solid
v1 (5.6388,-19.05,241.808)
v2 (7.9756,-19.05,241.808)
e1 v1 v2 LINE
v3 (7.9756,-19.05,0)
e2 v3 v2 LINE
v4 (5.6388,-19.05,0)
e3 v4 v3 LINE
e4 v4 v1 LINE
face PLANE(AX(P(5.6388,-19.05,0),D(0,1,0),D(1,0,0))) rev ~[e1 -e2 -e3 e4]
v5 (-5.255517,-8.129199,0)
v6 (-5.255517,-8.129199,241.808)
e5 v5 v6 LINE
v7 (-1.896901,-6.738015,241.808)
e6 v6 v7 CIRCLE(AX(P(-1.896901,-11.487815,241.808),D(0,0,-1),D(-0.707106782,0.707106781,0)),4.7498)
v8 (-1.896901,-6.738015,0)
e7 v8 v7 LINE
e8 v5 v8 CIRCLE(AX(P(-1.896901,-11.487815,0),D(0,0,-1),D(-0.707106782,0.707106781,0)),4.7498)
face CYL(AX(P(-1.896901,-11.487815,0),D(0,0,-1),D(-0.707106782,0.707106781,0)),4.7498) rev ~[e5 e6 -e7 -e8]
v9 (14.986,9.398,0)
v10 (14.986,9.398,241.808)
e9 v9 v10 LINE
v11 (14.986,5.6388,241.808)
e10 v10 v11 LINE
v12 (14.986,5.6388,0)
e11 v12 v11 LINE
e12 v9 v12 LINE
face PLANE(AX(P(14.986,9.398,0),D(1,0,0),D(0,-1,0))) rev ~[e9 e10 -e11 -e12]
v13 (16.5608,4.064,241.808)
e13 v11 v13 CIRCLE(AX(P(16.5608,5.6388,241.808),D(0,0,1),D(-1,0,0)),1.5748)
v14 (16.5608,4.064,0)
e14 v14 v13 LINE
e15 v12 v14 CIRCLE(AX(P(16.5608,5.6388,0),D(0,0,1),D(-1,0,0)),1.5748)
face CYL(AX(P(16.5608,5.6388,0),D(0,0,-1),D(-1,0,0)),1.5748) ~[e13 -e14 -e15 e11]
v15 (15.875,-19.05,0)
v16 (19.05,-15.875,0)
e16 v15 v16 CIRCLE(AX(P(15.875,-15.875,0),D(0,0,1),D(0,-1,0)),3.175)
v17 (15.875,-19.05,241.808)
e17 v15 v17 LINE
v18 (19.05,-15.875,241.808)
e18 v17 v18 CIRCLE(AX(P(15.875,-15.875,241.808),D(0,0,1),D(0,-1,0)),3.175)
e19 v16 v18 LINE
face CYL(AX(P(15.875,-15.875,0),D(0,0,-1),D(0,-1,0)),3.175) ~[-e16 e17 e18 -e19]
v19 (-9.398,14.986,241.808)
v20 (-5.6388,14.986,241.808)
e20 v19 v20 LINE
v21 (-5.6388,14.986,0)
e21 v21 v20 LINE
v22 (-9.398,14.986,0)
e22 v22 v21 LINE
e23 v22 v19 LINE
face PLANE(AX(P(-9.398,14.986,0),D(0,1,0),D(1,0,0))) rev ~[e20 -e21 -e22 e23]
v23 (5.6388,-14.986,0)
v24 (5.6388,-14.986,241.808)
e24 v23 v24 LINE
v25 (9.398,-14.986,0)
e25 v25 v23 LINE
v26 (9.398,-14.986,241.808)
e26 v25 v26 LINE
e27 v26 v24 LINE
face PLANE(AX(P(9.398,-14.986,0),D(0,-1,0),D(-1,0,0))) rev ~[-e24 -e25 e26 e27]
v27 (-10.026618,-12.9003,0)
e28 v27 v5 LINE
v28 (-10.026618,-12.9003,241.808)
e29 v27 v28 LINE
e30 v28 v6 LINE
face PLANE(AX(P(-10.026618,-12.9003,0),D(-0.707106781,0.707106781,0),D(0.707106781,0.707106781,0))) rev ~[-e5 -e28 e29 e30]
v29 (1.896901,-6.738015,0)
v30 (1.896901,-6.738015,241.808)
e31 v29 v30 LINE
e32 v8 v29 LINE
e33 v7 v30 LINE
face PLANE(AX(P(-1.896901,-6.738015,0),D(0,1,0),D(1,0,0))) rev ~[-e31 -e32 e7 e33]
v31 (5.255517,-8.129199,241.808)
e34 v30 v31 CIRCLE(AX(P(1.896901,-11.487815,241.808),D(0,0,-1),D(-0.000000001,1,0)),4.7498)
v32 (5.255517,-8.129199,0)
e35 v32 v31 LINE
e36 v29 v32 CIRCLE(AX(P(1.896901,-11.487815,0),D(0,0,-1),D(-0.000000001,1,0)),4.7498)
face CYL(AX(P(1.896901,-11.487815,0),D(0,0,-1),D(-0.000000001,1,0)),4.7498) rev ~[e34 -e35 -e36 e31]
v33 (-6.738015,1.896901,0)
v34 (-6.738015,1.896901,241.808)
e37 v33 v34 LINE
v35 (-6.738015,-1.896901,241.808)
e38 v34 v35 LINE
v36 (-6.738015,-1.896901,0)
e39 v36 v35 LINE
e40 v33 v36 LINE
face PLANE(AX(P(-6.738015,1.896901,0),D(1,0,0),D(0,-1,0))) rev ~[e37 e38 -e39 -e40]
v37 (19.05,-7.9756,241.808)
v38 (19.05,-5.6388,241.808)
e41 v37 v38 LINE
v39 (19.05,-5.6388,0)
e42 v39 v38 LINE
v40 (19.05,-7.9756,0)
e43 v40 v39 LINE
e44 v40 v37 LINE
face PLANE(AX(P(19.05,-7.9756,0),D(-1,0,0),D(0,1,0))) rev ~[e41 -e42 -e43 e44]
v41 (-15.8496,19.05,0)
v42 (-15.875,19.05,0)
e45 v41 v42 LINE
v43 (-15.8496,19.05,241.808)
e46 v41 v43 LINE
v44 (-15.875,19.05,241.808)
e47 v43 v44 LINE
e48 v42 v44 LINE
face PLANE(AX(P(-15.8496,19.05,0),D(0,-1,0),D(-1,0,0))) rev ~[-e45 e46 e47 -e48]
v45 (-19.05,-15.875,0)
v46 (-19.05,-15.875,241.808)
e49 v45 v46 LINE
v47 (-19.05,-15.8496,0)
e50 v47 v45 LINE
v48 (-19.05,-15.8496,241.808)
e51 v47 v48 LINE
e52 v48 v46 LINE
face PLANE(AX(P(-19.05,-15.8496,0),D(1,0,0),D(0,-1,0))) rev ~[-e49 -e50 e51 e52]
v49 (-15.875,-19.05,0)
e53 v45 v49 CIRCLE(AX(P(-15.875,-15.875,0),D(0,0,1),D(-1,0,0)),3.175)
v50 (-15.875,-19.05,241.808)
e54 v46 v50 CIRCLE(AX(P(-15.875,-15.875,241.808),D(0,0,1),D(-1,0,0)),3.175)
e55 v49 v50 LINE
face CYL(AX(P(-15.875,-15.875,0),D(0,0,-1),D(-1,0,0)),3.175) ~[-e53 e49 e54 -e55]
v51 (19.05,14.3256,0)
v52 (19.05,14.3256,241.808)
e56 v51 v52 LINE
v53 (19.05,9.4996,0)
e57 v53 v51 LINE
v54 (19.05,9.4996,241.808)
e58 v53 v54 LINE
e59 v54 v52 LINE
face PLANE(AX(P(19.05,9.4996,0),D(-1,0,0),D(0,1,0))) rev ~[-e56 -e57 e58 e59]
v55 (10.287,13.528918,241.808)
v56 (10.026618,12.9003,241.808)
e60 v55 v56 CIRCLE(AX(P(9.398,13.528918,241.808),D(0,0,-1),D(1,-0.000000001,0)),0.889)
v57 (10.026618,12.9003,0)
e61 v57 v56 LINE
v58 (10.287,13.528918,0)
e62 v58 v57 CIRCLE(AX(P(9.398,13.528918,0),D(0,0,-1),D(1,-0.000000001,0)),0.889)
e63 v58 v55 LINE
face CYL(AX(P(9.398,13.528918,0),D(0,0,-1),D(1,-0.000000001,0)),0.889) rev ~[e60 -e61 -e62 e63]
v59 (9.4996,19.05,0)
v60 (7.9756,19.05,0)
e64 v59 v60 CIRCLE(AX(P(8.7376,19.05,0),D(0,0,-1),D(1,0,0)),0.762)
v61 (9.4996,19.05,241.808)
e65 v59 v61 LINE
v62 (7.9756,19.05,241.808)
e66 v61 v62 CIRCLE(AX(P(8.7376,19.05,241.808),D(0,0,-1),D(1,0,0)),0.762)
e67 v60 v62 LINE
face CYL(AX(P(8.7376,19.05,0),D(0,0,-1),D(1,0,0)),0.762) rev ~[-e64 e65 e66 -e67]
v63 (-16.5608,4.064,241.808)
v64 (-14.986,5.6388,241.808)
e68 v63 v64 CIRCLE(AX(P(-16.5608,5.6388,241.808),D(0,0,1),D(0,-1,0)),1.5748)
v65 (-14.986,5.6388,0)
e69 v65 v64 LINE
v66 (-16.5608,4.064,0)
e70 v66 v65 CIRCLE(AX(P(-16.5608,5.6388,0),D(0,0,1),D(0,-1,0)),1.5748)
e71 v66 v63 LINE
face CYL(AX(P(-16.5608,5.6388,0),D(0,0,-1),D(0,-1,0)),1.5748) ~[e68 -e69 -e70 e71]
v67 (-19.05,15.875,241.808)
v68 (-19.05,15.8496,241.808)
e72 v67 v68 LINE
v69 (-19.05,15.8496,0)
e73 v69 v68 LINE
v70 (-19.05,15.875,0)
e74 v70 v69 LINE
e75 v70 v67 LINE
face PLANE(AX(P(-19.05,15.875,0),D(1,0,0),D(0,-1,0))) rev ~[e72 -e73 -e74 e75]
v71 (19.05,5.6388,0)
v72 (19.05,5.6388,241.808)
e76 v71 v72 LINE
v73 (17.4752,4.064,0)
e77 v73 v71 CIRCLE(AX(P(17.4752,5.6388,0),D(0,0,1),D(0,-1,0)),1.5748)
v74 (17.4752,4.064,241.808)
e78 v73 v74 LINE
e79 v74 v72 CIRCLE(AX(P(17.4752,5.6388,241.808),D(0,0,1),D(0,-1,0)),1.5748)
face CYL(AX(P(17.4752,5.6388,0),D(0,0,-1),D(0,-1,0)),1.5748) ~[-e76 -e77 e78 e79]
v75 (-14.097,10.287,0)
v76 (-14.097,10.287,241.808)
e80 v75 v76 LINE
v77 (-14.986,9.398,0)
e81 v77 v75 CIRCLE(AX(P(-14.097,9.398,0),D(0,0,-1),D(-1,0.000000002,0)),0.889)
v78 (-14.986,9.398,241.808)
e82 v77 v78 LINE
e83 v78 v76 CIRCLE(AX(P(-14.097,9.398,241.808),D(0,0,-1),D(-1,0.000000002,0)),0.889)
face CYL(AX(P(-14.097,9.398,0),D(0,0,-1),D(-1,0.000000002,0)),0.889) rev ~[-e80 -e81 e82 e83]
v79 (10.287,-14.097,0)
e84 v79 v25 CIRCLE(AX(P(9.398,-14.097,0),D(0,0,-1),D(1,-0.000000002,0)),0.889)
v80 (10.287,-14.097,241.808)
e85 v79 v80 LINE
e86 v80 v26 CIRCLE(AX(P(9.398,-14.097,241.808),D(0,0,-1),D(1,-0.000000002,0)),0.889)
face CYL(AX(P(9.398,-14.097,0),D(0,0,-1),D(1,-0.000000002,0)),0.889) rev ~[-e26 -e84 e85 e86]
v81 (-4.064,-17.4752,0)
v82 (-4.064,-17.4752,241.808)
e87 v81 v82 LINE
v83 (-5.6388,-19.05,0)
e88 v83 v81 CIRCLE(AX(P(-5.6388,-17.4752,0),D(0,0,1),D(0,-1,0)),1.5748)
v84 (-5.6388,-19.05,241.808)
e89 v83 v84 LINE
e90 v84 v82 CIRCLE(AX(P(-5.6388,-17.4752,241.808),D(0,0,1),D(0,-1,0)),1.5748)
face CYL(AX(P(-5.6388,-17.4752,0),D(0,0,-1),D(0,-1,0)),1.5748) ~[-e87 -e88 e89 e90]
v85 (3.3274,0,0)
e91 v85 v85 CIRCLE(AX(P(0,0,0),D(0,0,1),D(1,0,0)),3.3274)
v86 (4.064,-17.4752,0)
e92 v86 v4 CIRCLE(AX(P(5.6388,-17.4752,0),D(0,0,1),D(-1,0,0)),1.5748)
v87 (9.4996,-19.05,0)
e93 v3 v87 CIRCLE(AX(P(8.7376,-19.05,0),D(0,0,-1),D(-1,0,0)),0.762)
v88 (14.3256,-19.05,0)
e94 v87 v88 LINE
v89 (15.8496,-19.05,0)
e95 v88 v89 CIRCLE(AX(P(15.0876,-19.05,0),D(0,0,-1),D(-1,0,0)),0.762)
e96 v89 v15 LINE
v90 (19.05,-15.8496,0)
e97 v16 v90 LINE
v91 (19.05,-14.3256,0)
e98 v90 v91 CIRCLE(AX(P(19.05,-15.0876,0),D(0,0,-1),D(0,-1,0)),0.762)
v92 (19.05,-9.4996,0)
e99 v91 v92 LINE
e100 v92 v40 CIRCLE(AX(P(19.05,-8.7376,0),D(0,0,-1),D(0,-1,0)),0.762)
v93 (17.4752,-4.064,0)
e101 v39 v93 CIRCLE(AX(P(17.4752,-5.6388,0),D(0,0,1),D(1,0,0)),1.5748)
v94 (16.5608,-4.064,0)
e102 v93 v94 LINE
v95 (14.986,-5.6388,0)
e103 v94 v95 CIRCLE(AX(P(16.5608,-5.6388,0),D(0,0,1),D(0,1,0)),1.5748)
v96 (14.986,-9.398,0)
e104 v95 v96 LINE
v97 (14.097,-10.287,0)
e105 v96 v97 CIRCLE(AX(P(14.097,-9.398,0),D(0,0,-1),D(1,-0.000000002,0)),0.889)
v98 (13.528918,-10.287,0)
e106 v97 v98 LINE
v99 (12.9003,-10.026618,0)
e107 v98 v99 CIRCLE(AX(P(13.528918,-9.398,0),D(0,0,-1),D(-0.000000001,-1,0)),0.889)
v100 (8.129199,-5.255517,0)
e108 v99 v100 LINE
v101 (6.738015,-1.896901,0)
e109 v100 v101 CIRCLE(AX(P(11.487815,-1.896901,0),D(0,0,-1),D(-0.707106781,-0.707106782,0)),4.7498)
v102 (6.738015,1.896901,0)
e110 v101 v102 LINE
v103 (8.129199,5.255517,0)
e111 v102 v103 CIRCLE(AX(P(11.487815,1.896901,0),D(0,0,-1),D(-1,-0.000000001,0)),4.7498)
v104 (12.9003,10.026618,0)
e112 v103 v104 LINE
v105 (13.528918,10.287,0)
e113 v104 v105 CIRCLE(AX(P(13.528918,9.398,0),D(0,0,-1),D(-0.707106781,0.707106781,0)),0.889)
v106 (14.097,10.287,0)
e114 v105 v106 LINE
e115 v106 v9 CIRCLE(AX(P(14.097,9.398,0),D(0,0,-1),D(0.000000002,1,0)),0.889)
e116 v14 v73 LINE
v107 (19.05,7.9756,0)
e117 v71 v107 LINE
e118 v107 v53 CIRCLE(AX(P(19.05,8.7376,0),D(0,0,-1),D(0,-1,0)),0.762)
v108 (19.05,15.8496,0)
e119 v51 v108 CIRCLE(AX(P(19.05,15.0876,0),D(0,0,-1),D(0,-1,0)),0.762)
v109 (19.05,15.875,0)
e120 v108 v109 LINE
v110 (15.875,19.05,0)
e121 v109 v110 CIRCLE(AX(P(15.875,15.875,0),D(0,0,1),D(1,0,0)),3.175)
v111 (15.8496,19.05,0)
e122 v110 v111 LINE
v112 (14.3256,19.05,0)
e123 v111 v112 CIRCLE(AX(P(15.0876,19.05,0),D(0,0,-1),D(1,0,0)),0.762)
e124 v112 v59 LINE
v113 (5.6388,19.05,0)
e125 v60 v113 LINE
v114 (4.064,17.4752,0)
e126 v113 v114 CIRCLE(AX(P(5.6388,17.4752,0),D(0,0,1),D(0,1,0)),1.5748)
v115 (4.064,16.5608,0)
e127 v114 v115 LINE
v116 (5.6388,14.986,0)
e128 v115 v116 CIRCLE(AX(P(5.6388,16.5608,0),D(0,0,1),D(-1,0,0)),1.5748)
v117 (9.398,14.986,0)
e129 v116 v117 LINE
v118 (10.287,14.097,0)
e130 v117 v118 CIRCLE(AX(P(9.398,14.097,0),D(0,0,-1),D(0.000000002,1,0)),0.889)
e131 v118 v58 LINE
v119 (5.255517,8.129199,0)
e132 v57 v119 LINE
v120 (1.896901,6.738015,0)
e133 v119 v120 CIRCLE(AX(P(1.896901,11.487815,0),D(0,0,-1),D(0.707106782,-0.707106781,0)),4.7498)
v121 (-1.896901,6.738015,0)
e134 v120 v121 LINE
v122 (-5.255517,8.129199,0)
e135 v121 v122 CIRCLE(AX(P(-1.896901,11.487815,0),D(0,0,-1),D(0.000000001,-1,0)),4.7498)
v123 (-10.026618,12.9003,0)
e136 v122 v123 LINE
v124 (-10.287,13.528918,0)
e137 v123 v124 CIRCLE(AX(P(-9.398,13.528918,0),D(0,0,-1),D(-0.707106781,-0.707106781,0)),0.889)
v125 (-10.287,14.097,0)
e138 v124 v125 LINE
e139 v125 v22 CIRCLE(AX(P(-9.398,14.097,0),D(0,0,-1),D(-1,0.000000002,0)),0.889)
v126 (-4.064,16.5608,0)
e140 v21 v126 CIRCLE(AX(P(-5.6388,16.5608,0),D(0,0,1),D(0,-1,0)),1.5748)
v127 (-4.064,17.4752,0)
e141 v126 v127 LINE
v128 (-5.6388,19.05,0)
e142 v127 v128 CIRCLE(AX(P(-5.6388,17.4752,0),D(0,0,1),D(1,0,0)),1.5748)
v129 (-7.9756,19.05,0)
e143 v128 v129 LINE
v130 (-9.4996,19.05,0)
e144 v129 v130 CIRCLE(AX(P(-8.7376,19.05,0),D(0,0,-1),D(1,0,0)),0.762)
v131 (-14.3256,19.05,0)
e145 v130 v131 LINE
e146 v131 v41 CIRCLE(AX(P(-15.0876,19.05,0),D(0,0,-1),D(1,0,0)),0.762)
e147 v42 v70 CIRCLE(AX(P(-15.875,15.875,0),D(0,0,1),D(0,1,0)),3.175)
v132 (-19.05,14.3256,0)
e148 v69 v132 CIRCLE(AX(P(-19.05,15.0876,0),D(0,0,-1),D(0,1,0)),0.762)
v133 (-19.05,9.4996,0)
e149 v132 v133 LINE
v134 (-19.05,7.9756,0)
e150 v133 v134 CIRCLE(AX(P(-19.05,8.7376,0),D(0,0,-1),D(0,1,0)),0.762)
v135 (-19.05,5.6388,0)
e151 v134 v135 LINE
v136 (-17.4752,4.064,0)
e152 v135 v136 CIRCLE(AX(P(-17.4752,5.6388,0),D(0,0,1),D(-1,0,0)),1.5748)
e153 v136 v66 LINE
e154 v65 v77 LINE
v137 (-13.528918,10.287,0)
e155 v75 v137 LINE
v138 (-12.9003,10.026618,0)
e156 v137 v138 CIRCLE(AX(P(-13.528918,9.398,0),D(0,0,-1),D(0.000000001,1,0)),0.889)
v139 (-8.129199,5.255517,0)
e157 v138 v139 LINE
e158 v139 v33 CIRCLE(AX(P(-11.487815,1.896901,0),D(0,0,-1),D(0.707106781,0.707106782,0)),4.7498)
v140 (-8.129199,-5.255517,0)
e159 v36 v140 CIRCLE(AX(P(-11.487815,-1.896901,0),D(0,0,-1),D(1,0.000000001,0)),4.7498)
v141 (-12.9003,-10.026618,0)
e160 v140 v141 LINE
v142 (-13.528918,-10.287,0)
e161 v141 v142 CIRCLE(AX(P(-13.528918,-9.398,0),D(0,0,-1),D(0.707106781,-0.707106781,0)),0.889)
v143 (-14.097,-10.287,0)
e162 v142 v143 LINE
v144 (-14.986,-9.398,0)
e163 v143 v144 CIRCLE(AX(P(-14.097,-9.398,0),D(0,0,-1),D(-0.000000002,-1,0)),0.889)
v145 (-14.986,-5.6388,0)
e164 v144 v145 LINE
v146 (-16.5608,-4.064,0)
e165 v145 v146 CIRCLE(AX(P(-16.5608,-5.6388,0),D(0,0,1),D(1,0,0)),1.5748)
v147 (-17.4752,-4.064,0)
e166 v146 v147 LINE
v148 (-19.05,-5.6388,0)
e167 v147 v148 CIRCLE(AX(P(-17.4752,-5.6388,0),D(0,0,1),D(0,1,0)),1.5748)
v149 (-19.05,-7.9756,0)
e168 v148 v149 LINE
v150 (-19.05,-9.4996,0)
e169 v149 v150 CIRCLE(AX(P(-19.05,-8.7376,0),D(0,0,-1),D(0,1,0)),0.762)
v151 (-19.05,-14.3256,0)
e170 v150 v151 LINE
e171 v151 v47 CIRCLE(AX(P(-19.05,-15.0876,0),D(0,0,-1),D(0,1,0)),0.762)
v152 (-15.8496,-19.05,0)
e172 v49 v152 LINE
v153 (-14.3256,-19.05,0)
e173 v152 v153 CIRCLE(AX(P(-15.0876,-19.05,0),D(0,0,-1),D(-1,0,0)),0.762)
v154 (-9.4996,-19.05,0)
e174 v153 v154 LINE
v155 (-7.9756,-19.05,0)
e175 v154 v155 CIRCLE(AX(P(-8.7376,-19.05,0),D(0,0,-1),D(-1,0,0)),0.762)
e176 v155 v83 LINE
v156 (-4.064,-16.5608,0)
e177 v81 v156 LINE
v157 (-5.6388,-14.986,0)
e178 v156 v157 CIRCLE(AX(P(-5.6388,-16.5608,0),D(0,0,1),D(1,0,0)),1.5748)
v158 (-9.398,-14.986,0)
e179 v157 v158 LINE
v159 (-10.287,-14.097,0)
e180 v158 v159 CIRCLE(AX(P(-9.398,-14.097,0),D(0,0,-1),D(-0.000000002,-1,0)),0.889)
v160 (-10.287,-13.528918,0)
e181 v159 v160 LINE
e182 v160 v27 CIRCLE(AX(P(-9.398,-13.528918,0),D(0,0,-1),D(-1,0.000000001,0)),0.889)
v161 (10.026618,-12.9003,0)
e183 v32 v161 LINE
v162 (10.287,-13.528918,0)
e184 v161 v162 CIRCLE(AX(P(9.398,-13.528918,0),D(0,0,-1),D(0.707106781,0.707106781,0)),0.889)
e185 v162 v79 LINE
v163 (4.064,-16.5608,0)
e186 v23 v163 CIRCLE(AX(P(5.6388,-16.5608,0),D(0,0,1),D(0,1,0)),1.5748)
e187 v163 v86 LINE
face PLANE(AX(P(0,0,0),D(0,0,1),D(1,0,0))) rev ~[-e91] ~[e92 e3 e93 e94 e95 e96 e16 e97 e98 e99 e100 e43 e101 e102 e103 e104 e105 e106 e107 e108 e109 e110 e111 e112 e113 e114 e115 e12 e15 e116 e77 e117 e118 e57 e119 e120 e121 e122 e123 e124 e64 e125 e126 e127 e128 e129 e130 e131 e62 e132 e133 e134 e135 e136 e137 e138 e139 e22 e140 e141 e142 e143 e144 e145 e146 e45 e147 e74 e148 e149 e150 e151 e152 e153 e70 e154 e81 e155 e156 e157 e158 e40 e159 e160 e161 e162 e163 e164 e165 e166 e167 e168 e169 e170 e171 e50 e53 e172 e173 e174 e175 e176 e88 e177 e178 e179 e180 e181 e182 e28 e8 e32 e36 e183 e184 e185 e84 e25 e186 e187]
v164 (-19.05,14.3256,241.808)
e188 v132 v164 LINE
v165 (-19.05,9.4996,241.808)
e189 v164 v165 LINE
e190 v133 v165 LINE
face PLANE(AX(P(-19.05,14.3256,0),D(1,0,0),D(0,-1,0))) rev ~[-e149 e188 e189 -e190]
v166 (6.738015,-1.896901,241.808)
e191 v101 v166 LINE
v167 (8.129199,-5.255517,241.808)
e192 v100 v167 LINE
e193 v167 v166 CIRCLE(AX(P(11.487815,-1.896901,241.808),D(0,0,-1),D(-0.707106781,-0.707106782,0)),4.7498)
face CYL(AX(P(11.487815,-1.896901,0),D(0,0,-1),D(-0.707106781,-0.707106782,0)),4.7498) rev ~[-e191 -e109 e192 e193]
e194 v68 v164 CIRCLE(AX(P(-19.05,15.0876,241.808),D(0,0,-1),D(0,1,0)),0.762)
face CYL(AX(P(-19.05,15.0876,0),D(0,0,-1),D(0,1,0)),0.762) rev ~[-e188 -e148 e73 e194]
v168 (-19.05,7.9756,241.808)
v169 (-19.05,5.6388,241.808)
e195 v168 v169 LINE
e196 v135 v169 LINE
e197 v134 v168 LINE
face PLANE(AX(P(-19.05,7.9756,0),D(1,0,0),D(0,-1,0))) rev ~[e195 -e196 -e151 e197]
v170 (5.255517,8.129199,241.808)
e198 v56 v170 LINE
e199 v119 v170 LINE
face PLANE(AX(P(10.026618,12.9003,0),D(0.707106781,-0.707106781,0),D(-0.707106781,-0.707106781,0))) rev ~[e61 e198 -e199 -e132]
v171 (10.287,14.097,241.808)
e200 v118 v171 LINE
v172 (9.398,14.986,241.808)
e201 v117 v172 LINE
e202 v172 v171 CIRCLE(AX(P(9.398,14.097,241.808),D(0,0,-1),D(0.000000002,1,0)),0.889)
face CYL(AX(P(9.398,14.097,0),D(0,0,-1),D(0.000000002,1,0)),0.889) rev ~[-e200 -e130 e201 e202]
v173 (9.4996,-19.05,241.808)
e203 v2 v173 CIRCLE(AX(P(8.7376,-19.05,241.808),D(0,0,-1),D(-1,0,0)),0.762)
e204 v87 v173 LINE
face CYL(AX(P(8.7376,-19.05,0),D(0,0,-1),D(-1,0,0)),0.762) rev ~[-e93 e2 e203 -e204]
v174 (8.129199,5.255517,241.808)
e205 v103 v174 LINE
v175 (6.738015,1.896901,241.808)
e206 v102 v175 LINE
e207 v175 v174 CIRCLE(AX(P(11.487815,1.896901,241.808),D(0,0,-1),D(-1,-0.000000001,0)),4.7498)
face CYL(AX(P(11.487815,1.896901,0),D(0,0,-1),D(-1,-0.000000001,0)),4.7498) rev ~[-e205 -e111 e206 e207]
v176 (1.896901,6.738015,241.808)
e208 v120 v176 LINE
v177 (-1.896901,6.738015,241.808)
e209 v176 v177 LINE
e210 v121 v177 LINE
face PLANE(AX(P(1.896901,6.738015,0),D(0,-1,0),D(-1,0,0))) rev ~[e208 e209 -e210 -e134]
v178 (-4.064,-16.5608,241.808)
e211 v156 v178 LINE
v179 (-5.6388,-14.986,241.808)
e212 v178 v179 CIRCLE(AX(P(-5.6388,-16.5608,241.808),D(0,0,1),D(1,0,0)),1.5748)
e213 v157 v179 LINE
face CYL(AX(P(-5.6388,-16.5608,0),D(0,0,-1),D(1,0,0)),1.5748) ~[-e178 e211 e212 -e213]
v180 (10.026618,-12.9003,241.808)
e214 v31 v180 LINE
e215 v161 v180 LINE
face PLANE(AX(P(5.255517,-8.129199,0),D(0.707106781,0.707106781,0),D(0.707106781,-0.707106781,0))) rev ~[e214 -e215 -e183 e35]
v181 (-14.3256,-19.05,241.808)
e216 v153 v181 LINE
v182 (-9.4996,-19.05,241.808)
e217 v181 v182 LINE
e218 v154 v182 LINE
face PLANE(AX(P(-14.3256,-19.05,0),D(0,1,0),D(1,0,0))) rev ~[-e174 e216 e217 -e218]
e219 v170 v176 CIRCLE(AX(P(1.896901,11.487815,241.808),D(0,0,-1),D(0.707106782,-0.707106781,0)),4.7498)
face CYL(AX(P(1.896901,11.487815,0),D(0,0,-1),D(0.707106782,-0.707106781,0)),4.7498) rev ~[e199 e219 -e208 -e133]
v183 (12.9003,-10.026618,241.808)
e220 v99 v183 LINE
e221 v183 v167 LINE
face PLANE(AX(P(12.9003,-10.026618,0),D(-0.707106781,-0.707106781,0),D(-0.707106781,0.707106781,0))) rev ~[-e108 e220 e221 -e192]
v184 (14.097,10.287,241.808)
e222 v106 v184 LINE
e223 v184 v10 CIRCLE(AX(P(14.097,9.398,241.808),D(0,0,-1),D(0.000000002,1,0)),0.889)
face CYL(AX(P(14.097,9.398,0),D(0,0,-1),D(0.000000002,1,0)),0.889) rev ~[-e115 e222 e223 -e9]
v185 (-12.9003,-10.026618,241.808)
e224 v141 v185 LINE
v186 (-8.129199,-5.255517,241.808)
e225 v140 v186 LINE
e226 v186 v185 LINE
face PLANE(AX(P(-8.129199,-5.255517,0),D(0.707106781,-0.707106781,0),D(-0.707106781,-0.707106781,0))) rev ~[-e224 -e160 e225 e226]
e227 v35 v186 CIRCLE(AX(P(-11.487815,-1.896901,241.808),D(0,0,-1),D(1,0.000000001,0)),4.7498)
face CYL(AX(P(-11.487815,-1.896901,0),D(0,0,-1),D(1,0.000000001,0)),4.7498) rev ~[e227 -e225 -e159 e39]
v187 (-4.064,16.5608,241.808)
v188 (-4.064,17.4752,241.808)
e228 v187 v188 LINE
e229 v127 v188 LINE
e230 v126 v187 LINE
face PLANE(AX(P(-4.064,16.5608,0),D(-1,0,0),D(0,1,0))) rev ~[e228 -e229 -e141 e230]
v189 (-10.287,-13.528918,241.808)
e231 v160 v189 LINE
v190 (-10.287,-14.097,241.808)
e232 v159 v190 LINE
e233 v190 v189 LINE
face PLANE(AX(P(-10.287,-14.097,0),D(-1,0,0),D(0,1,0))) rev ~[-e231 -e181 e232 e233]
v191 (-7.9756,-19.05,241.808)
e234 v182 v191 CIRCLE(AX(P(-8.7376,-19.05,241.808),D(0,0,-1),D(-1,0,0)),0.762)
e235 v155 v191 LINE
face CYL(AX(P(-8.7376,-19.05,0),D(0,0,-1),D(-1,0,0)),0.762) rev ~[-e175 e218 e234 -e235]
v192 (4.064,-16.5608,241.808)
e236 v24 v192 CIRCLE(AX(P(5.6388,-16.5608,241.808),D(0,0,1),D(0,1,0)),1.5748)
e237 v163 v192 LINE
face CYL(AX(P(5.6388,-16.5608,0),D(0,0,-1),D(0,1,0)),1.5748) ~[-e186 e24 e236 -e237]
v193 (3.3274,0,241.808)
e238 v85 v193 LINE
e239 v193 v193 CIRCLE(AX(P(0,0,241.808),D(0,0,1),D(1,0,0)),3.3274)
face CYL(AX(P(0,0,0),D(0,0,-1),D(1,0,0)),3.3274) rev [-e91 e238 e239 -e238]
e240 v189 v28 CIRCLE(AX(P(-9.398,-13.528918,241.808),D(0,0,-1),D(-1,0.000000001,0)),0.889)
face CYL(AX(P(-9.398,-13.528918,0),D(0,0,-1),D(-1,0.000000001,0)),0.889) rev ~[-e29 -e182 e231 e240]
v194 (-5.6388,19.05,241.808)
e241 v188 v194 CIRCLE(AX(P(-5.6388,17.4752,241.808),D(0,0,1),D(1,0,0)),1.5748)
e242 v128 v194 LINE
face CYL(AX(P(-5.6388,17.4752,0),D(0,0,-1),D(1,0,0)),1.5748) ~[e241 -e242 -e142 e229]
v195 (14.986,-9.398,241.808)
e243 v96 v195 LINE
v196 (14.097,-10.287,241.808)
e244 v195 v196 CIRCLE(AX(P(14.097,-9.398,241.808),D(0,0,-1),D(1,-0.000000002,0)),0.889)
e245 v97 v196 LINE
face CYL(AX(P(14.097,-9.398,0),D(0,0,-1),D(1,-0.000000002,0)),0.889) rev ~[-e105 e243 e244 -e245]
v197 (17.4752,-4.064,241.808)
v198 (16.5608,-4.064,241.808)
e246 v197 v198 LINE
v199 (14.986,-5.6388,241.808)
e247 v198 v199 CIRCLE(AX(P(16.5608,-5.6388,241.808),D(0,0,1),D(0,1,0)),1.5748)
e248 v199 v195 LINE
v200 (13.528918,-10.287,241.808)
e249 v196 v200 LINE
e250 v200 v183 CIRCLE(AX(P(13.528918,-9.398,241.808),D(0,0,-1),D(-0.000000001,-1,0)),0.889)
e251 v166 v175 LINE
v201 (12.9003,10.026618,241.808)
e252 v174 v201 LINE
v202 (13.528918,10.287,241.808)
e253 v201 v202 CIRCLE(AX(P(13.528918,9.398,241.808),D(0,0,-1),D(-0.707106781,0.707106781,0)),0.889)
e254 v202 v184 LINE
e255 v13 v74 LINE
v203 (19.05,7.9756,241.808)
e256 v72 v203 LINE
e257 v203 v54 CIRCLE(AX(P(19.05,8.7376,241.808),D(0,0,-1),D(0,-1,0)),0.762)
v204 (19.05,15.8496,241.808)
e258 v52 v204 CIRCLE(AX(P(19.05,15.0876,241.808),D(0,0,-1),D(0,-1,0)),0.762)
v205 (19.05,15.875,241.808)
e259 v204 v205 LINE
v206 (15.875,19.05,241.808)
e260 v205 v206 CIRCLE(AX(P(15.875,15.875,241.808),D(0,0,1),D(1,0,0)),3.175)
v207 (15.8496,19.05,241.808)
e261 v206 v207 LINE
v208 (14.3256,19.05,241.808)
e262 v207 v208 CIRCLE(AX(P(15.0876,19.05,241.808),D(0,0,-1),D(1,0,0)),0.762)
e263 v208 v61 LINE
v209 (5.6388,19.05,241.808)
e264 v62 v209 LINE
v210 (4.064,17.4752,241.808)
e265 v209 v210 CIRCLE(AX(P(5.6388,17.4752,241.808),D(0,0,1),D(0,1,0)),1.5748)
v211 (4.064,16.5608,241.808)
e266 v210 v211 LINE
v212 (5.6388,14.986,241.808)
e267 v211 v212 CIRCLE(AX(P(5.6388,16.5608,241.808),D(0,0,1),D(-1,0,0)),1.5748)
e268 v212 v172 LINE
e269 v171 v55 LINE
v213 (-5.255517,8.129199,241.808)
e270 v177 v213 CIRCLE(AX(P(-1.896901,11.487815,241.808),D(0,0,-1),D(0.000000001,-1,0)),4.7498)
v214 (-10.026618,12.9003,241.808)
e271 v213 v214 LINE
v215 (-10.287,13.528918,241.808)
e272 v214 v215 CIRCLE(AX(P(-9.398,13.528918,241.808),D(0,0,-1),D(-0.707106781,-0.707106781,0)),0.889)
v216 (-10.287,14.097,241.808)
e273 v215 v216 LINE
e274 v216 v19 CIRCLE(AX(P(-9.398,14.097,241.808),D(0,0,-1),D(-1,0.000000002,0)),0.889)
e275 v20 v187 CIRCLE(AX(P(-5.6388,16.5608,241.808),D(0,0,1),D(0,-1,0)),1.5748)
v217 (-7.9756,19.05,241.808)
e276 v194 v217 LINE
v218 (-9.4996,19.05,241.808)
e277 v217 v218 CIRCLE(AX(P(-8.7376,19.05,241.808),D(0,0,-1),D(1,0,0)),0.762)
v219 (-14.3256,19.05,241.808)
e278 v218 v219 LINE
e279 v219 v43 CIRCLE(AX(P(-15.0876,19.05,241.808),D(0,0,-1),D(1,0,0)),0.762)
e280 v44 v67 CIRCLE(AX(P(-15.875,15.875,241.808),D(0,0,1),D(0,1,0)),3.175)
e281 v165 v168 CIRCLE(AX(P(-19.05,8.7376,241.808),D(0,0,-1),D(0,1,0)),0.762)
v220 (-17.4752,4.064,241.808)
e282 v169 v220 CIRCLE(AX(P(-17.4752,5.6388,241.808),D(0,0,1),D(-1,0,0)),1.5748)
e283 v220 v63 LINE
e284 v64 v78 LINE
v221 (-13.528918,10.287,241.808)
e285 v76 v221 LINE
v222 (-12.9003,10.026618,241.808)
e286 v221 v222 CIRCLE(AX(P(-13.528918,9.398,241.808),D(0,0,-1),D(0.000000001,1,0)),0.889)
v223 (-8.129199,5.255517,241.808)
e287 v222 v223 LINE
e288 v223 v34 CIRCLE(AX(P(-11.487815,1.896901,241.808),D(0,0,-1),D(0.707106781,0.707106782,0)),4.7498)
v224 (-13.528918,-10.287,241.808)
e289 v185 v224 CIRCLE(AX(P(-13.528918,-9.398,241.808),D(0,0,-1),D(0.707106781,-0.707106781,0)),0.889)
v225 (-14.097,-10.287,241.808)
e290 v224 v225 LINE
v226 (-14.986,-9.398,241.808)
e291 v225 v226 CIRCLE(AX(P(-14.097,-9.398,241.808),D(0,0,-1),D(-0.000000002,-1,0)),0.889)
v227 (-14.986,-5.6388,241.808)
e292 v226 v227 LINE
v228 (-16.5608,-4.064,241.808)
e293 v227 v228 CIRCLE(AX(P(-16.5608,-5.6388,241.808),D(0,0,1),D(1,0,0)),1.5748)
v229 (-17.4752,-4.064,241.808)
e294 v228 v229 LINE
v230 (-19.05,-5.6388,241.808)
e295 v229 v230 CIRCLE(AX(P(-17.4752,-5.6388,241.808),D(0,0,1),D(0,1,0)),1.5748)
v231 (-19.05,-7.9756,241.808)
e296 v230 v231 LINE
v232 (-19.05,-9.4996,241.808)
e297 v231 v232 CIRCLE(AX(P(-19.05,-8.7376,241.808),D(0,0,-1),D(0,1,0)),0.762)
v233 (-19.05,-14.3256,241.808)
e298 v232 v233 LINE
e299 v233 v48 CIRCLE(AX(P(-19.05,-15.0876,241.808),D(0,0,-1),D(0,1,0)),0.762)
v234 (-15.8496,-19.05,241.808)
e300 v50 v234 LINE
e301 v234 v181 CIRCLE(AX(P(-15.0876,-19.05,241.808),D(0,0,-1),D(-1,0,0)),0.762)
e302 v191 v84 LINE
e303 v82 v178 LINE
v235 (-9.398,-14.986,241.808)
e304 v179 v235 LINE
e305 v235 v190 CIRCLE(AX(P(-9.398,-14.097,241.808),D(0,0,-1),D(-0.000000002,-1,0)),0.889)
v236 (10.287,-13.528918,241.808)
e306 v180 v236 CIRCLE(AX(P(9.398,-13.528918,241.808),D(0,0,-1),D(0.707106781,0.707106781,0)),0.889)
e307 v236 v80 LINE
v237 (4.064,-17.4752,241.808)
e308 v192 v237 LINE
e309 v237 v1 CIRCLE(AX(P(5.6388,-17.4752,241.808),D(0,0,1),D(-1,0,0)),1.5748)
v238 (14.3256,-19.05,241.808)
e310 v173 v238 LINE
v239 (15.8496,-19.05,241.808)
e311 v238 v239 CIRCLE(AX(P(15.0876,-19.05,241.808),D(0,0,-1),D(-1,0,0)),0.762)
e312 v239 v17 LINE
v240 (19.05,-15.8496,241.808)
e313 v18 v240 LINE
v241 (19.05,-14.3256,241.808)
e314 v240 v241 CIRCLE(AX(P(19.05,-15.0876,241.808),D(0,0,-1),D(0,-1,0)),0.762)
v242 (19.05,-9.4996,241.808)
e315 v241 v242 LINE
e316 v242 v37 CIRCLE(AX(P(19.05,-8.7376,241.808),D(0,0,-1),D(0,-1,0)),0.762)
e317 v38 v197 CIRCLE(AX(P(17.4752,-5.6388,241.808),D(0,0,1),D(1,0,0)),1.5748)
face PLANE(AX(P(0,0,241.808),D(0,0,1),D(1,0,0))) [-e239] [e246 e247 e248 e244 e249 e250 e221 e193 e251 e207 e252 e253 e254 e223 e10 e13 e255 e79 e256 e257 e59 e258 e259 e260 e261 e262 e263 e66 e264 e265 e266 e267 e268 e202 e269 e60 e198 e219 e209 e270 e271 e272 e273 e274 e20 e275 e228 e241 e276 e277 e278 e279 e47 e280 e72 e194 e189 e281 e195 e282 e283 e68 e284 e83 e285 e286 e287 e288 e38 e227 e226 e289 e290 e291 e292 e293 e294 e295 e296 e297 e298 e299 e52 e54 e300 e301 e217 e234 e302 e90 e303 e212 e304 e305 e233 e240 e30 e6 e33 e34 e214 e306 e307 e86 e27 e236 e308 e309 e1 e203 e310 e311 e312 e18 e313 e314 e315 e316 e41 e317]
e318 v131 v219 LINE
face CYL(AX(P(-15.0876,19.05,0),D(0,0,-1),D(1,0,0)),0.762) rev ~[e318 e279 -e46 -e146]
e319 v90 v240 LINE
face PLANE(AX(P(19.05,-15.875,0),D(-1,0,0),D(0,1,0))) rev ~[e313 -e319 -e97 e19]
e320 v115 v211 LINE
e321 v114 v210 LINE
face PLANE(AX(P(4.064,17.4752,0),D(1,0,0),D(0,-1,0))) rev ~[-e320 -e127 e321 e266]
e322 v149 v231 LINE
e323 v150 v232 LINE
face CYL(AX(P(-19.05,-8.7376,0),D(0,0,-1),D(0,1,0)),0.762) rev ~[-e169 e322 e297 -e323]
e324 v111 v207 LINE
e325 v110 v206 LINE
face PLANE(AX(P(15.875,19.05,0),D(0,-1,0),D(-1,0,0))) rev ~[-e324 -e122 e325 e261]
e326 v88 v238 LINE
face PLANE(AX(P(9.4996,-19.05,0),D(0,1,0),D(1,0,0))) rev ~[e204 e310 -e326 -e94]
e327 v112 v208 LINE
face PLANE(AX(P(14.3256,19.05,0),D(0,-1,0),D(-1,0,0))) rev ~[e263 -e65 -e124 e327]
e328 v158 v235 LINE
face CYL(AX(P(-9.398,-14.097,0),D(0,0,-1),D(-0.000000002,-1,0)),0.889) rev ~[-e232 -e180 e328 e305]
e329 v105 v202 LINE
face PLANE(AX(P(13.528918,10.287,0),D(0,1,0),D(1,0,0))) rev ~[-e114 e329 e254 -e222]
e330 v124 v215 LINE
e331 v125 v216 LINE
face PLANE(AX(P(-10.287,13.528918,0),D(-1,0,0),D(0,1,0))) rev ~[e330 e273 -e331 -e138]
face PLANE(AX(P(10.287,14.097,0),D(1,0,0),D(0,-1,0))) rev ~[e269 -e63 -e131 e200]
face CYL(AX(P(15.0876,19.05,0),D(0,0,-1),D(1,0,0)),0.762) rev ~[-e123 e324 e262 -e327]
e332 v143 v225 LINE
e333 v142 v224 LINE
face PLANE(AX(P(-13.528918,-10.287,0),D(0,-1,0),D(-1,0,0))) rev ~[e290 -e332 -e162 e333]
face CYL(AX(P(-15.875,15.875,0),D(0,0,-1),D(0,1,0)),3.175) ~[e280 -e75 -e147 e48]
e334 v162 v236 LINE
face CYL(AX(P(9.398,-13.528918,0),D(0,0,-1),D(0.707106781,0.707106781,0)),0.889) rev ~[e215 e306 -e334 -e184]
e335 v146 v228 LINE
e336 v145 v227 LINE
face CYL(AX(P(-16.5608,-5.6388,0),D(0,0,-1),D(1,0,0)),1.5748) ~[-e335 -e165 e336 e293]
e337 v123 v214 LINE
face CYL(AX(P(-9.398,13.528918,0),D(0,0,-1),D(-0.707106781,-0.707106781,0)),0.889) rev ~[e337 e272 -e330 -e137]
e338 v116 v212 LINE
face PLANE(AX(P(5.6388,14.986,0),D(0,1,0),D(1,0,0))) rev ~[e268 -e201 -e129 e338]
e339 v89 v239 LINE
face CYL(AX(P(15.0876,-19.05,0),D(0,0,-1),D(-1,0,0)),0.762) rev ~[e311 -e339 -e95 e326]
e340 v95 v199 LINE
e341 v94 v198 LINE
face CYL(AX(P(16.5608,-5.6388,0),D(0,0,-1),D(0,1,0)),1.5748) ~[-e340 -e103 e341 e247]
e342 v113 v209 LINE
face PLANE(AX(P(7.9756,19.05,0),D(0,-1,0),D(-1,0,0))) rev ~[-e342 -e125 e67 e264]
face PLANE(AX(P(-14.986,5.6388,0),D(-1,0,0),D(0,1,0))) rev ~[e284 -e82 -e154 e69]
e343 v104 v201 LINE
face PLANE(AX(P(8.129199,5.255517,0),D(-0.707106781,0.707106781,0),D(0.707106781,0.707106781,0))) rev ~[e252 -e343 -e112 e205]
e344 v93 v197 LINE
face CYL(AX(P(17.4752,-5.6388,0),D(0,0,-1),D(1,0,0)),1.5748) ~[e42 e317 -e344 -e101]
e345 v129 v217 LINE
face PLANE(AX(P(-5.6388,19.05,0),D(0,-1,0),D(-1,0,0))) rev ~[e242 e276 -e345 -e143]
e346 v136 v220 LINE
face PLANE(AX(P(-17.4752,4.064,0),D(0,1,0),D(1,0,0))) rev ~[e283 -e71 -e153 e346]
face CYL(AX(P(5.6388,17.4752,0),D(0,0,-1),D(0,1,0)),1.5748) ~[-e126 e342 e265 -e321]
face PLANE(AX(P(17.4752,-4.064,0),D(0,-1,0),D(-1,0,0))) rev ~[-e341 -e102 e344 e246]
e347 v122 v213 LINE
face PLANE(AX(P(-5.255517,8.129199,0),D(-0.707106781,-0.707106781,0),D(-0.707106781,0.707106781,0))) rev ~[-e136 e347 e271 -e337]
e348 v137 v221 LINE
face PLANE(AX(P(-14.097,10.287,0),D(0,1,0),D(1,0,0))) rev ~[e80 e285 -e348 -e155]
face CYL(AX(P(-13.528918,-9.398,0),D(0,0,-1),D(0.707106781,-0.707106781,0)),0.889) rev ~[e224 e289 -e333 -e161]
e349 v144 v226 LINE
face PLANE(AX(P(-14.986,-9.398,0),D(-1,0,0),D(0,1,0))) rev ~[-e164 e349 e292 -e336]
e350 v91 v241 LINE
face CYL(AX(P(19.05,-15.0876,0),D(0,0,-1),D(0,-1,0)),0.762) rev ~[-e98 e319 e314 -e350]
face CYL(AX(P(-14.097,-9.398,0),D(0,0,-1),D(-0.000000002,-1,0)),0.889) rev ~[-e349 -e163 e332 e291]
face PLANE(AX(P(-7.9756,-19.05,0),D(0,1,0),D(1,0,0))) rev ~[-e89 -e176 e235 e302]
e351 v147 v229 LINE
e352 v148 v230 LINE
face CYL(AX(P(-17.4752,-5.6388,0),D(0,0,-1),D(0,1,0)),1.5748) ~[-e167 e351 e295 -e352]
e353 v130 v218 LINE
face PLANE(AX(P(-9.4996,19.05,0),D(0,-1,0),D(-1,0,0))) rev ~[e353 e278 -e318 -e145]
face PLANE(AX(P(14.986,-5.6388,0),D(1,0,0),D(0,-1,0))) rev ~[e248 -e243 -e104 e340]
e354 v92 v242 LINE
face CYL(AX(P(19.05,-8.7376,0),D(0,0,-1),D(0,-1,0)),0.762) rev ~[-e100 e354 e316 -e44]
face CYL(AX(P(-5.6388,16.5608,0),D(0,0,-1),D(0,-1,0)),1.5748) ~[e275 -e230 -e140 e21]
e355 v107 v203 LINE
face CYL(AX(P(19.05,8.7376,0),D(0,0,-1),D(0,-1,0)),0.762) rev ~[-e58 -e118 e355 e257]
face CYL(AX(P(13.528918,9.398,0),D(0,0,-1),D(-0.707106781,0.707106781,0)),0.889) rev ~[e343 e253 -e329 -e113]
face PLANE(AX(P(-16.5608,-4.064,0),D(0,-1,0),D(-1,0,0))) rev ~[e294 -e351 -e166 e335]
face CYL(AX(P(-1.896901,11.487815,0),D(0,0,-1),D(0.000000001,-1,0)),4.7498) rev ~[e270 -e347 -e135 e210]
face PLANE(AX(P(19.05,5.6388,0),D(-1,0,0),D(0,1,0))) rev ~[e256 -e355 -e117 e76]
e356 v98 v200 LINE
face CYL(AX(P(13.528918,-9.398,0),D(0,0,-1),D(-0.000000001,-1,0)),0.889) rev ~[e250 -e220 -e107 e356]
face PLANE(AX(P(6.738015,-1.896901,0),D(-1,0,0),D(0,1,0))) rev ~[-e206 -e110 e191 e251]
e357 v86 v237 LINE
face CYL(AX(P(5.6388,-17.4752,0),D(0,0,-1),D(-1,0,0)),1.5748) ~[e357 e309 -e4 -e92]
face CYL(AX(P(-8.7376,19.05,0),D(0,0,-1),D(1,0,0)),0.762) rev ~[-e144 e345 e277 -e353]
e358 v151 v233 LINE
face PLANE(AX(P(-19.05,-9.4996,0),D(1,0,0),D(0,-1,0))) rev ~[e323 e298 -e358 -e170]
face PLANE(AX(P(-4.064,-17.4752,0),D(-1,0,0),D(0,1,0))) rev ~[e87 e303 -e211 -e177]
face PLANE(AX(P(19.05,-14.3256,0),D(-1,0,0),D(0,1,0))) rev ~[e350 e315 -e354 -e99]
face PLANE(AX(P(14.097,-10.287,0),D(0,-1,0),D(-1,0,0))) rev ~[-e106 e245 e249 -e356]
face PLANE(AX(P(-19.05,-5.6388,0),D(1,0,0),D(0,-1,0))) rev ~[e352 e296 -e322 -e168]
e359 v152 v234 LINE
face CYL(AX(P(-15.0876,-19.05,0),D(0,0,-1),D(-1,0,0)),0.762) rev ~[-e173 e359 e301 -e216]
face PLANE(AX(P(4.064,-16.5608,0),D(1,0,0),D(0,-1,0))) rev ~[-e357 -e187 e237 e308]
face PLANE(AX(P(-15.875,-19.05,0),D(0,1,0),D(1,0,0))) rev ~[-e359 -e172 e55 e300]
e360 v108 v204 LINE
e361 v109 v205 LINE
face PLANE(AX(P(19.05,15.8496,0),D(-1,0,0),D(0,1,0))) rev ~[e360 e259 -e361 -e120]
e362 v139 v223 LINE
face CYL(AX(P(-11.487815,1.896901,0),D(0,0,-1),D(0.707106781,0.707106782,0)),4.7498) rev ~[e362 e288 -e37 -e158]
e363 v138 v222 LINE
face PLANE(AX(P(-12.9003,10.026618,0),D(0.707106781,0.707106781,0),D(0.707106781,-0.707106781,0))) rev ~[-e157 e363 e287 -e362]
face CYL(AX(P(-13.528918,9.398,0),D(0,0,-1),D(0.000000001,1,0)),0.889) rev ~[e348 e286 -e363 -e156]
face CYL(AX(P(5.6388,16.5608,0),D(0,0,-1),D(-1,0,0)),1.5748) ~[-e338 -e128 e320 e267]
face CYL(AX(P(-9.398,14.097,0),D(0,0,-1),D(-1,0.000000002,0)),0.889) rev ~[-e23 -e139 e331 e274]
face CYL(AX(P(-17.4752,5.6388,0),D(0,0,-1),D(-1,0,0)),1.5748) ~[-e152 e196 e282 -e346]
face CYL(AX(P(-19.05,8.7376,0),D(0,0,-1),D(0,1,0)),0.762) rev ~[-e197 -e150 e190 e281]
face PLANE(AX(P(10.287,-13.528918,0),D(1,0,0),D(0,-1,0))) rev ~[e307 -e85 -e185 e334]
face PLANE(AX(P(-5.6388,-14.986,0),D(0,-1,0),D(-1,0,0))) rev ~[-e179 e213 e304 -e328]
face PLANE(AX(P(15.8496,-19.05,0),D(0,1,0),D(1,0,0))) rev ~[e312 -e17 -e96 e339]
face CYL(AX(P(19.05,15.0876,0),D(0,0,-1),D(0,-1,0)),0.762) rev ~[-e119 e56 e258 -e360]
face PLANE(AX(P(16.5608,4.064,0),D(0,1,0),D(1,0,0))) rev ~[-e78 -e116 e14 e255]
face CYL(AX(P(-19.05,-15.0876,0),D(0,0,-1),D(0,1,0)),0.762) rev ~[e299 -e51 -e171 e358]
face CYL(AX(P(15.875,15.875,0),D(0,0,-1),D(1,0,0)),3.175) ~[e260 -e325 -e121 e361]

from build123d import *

# Parameters (mm, degrees)
SKETCH1_R           = 3.3274
BOSS_EXTRUDE1_DEPTH = 241.808


with BuildPart() as part:
    # Sketch1 → Boss-Extrude1 (new body)
    with BuildSketch(Plane.XY):
        with BuildLine():
            Line((-14.097, 10.287), (-13.528918, 10.287))
            ThreePointArc((-13.528918, 10.287), (-13.188712428, 10.219328904), (-12.900300071, 10.026617928))
            Line((-12.900300071, 10.026617928), (-8.129198975, 5.255516832))
            ThreePointArc((-8.129198975, 5.255516832), (-7.09957176, 3.71457081), (-6.738014764, 1.896901043))
            Line((-6.738014764, 1.896901043), (-6.738014764, -1.896901043))
            ThreePointArc((-6.738014764, -1.896901043), (-7.09957176, -3.71457081), (-8.129198975, -5.255516832))
            Line((-8.129198975, -5.255516832), (-12.900300071, -10.026617928))
            ThreePointArc((-12.900300071, -10.026617928), (-13.188712428, -10.219328904), (-13.528918, -10.287))
            Line((-13.528918, -10.287), (-14.097, -10.287))
            ThreePointArc((-14.097, -10.287), (-14.725617928, -10.026617928), (-14.986, -9.398))
            Line((-14.986, -9.398), (-14.986, -5.6388))
            ThreePointArc((-14.986, -5.6388), (-15.447248241, -4.525248241), (-16.5608, -4.064))
            Line((-16.5608, -4.064), (-17.4752, -4.064))
            ThreePointArc((-17.4752, -4.064), (-18.588751759, -4.525248241), (-19.05, -5.6388))
            Line((-19.05, -5.6388), (-19.05, -7.9756))
            ThreePointArc((-19.05, -7.9756), (-18.288, -8.7376), (-19.05, -9.4996))
            Line((-19.05, -9.4996), (-19.05, -14.3256))
            ThreePointArc((-19.05, -14.3256), (-18.288, -15.0876), (-19.05, -15.8496))
            Line((-19.05, -15.8496), (-19.05, -15.875))
            ThreePointArc((-19.05, -15.875), (-18.12006403, -18.12006403), (-15.875, -19.05))
            Line((-15.875, -19.05), (-15.8496, -19.05))
            ThreePointArc((-15.8496, -19.05), (-15.0876, -18.288), (-14.3256, -19.05))
            Line((-14.3256, -19.05), (-9.4996, -19.05))
            ThreePointArc((-9.4996, -19.05), (-8.7376, -18.288), (-7.9756, -19.05))
            Line((-7.9756, -19.05), (-5.6388, -19.05))
            ThreePointArc((-5.6388, -19.05), (-4.525248241, -18.588751759), (-4.064, -17.4752))
            Line((-4.064, -17.4752), (-4.064, -16.5608))
            ThreePointArc((-4.064, -16.5608), (-4.525248241, -15.447248241), (-5.6388, -14.986))
            Line((-5.6388, -14.986), (-9.398, -14.986))
            ThreePointArc((-9.398, -14.986), (-10.026617928, -14.725617928), (-10.287, -14.097))
            Line((-10.287, -14.097), (-10.287, -13.528918))
            ThreePointArc((-10.287, -13.528918), (-10.219328904, -13.188712428), (-10.026617928, -12.900300071))
            Line((-10.026617928, -12.900300071), (-5.255516832, -8.129198975))
            ThreePointArc((-5.255516832, -8.129198975), (-3.71457081, -7.09957176), (-1.896901043, -6.738014764))
            Line((-1.896901043, -6.738014764), (1.896901043, -6.738014764))
            ThreePointArc((1.896901043, -6.738014764), (3.71457081, -7.09957176), (5.255516832, -8.129198975))
            Line((5.255516832, -8.129198975), (10.026617928, -12.900300071))
            ThreePointArc((10.026617928, -12.900300071), (10.219328904, -13.188712428), (10.287, -13.528918))
            Line((10.287, -13.528918), (10.287, -14.097))
            ThreePointArc((10.287, -14.097), (10.026617928, -14.725617928), (9.398, -14.986))
            Line((9.398, -14.986), (5.6388, -14.986))
            ThreePointArc((5.6388, -14.986), (4.525248241, -15.447248241), (4.064, -16.5608))
            Line((4.064, -16.5608), (4.064, -17.4752))
            ThreePointArc((4.064, -17.4752), (4.525248241, -18.588751759), (5.6388, -19.05))
            Line((5.6388, -19.05), (7.9756, -19.05))
            ThreePointArc((7.9756, -19.05), (8.7376, -18.288), (9.4996, -19.05))
            Line((9.4996, -19.05), (14.3256, -19.05))
            ThreePointArc((14.3256, -19.05), (15.0876, -18.288), (15.8496, -19.05))
            Line((15.8496, -19.05), (15.875, -19.05))
            ThreePointArc((15.875, -19.05), (18.12006403, -18.12006403), (19.05, -15.875))
            Line((19.05, -15.875), (19.05, -15.8496))
            ThreePointArc((19.05, -15.8496), (18.288, -15.0876), (19.05, -14.3256))
            Line((19.05, -14.3256), (19.05, -9.4996))
            ThreePointArc((19.05, -9.4996), (18.288, -8.7376), (19.05, -7.9756))
            Line((19.05, -7.9756), (19.05, -5.6388))
            ThreePointArc((19.05, -5.6388), (18.588751759, -4.525248241), (17.4752, -4.064))
            Line((17.4752, -4.064), (16.5608, -4.064))
            ThreePointArc((16.5608, -4.064), (15.447248241, -4.525248241), (14.986, -5.6388))
            Line((14.986, -5.6388), (14.986, -9.398))
            ThreePointArc((14.986, -9.398), (14.725617928, -10.026617928), (14.097, -10.287))
            Line((14.097, -10.287), (13.528918, -10.287))
            ThreePointArc((13.528918, -10.287), (13.188712428, -10.219328904), (12.900300071, -10.026617928))
            Line((12.900300071, -10.026617928), (8.129198975, -5.255516832))
            ThreePointArc((8.129198975, -5.255516832), (7.09957176, -3.71457081), (6.738014764, -1.896901043))
            Line((6.738014764, -1.896901043), (6.738014764, 1.896901043))
            ThreePointArc((6.738014764, 1.896901043), (7.09957176, 3.71457081), (8.129198975, 5.255516832))
            Line((8.129198975, 5.255516832), (12.900300071, 10.026617928))
            ThreePointArc((12.900300071, 10.026617928), (13.188712428, 10.219328904), (13.528918, 10.287))
            Line((13.528918, 10.287), (14.097, 10.287))
            ThreePointArc((14.097, 10.287), (14.725617928, 10.026617928), (14.986, 9.398))
            Line((14.986, 9.398), (14.986, 5.6388))
            ThreePointArc((14.986, 5.6388), (15.447248241, 4.525248241), (16.5608, 4.064))
            Line((16.5608, 4.064), (17.4752, 4.064))
            ThreePointArc((17.4752, 4.064), (18.588751759, 4.525248241), (19.05, 5.6388))
            Line((19.05, 5.6388), (19.05, 7.9756))
            ThreePointArc((19.05, 7.9756), (18.288, 8.7376), (19.05, 9.4996))
            Line((19.05, 9.4996), (19.05, 14.3256))
            ThreePointArc((19.05, 14.3256), (18.288, 15.0876), (19.05, 15.8496))
            Line((19.05, 15.8496), (19.05, 15.875))
            ThreePointArc((19.05, 15.875), (18.12006403, 18.12006403), (15.875, 19.05))
            Line((15.875, 19.05), (15.8496, 19.05))
            ThreePointArc((15.8496, 19.05), (15.0876, 18.288), (14.3256, 19.05))
            Line((14.3256, 19.05), (9.4996, 19.05))
            ThreePointArc((9.4996, 19.05), (8.7376, 18.288), (7.9756, 19.05))
            Line((7.9756, 19.05), (5.6388, 19.05))
            ThreePointArc((5.6388, 19.05), (4.525248241, 18.588751759), (4.064, 17.4752))
            Line((4.064, 17.4752), (4.064, 16.5608))
            ThreePointArc((4.064, 16.5608), (4.525248241, 15.447248241), (5.6388, 14.986))
            Line((5.6388, 14.986), (9.398, 14.986))
            ThreePointArc((9.398, 14.986), (10.026617928, 14.725617928), (10.287, 14.097))
            Line((10.287, 14.097), (10.287, 13.528918))
            ThreePointArc((10.287, 13.528918), (10.219328904, 13.188712428), (10.026617928, 12.900300071))
            Line((10.026617928, 12.900300071), (5.255516832, 8.129198975))
            ThreePointArc((5.255516832, 8.129198975), (3.71457081, 7.09957176), (1.896901043, 6.738014764))
            Line((1.896901043, 6.738014764), (-1.896901043, 6.738014764))
            ThreePointArc((-1.896901043, 6.738014764), (-3.71457081, 7.09957176), (-5.255516832, 8.129198975))
            Line((-5.255516832, 8.129198975), (-10.026617928, 12.900300071))
            ThreePointArc((-10.026617928, 12.900300071), (-10.219328904, 13.188712428), (-10.287, 13.528918))
            Line((-10.287, 13.528918), (-10.287, 14.097))
            ThreePointArc((-10.287, 14.097), (-10.026617928, 14.725617928), (-9.398, 14.986))
            Line((-9.398, 14.986), (-5.6388, 14.986))
            ThreePointArc((-5.6388, 14.986), (-4.525248241, 15.447248241), (-4.064, 16.5608))
            Line((-4.064, 16.5608), (-4.064, 17.4752))
            ThreePointArc((-4.064, 17.4752), (-4.525248241, 18.588751759), (-5.6388, 19.05))
            Line((-5.6388, 19.05), (-7.9756, 19.05))
            ThreePointArc((-7.9756, 19.05), (-8.7376, 18.288), (-9.4996, 19.05))
            Line((-9.4996, 19.05), (-14.3256, 19.05))
            ThreePointArc((-14.3256, 19.05), (-15.0876, 18.288), (-15.8496, 19.05))
            Line((-15.8496, 19.05), (-15.875, 19.05))
            ThreePointArc((-15.875, 19.05), (-18.12006403, 18.12006403), (-19.05, 15.875))
            Line((-19.05, 15.875), (-19.05, 15.8496))
            ThreePointArc((-19.05, 15.8496), (-18.288, 15.0876), (-19.05, 14.3256))
            Line((-19.05, 14.3256), (-19.05, 9.4996))
            ThreePointArc((-19.05, 9.4996), (-18.288, 8.7376), (-19.05, 7.9756))
            Line((-19.05, 7.9756), (-19.05, 5.6388))
            ThreePointArc((-19.05, 5.6388), (-18.588751759, 4.525248241), (-17.4752, 4.064))
            Line((-17.4752, 4.064), (-16.5608, 4.064))
            ThreePointArc((-16.5608, 4.064), (-15.447248241, 4.525248241), (-14.986, 5.6388))
            Line((-14.986, 5.6388), (-14.986, 9.398))
            ThreePointArc((-14.986, 9.398), (-14.725617928, 10.026617928), (-14.097, 10.287))
        make_face()
        Circle(SKETCH1_R, mode=Mode.SUBTRACT)
    extrude(amount=BOSS_EXTRUDE1_DEPTH)


solid = part.part
